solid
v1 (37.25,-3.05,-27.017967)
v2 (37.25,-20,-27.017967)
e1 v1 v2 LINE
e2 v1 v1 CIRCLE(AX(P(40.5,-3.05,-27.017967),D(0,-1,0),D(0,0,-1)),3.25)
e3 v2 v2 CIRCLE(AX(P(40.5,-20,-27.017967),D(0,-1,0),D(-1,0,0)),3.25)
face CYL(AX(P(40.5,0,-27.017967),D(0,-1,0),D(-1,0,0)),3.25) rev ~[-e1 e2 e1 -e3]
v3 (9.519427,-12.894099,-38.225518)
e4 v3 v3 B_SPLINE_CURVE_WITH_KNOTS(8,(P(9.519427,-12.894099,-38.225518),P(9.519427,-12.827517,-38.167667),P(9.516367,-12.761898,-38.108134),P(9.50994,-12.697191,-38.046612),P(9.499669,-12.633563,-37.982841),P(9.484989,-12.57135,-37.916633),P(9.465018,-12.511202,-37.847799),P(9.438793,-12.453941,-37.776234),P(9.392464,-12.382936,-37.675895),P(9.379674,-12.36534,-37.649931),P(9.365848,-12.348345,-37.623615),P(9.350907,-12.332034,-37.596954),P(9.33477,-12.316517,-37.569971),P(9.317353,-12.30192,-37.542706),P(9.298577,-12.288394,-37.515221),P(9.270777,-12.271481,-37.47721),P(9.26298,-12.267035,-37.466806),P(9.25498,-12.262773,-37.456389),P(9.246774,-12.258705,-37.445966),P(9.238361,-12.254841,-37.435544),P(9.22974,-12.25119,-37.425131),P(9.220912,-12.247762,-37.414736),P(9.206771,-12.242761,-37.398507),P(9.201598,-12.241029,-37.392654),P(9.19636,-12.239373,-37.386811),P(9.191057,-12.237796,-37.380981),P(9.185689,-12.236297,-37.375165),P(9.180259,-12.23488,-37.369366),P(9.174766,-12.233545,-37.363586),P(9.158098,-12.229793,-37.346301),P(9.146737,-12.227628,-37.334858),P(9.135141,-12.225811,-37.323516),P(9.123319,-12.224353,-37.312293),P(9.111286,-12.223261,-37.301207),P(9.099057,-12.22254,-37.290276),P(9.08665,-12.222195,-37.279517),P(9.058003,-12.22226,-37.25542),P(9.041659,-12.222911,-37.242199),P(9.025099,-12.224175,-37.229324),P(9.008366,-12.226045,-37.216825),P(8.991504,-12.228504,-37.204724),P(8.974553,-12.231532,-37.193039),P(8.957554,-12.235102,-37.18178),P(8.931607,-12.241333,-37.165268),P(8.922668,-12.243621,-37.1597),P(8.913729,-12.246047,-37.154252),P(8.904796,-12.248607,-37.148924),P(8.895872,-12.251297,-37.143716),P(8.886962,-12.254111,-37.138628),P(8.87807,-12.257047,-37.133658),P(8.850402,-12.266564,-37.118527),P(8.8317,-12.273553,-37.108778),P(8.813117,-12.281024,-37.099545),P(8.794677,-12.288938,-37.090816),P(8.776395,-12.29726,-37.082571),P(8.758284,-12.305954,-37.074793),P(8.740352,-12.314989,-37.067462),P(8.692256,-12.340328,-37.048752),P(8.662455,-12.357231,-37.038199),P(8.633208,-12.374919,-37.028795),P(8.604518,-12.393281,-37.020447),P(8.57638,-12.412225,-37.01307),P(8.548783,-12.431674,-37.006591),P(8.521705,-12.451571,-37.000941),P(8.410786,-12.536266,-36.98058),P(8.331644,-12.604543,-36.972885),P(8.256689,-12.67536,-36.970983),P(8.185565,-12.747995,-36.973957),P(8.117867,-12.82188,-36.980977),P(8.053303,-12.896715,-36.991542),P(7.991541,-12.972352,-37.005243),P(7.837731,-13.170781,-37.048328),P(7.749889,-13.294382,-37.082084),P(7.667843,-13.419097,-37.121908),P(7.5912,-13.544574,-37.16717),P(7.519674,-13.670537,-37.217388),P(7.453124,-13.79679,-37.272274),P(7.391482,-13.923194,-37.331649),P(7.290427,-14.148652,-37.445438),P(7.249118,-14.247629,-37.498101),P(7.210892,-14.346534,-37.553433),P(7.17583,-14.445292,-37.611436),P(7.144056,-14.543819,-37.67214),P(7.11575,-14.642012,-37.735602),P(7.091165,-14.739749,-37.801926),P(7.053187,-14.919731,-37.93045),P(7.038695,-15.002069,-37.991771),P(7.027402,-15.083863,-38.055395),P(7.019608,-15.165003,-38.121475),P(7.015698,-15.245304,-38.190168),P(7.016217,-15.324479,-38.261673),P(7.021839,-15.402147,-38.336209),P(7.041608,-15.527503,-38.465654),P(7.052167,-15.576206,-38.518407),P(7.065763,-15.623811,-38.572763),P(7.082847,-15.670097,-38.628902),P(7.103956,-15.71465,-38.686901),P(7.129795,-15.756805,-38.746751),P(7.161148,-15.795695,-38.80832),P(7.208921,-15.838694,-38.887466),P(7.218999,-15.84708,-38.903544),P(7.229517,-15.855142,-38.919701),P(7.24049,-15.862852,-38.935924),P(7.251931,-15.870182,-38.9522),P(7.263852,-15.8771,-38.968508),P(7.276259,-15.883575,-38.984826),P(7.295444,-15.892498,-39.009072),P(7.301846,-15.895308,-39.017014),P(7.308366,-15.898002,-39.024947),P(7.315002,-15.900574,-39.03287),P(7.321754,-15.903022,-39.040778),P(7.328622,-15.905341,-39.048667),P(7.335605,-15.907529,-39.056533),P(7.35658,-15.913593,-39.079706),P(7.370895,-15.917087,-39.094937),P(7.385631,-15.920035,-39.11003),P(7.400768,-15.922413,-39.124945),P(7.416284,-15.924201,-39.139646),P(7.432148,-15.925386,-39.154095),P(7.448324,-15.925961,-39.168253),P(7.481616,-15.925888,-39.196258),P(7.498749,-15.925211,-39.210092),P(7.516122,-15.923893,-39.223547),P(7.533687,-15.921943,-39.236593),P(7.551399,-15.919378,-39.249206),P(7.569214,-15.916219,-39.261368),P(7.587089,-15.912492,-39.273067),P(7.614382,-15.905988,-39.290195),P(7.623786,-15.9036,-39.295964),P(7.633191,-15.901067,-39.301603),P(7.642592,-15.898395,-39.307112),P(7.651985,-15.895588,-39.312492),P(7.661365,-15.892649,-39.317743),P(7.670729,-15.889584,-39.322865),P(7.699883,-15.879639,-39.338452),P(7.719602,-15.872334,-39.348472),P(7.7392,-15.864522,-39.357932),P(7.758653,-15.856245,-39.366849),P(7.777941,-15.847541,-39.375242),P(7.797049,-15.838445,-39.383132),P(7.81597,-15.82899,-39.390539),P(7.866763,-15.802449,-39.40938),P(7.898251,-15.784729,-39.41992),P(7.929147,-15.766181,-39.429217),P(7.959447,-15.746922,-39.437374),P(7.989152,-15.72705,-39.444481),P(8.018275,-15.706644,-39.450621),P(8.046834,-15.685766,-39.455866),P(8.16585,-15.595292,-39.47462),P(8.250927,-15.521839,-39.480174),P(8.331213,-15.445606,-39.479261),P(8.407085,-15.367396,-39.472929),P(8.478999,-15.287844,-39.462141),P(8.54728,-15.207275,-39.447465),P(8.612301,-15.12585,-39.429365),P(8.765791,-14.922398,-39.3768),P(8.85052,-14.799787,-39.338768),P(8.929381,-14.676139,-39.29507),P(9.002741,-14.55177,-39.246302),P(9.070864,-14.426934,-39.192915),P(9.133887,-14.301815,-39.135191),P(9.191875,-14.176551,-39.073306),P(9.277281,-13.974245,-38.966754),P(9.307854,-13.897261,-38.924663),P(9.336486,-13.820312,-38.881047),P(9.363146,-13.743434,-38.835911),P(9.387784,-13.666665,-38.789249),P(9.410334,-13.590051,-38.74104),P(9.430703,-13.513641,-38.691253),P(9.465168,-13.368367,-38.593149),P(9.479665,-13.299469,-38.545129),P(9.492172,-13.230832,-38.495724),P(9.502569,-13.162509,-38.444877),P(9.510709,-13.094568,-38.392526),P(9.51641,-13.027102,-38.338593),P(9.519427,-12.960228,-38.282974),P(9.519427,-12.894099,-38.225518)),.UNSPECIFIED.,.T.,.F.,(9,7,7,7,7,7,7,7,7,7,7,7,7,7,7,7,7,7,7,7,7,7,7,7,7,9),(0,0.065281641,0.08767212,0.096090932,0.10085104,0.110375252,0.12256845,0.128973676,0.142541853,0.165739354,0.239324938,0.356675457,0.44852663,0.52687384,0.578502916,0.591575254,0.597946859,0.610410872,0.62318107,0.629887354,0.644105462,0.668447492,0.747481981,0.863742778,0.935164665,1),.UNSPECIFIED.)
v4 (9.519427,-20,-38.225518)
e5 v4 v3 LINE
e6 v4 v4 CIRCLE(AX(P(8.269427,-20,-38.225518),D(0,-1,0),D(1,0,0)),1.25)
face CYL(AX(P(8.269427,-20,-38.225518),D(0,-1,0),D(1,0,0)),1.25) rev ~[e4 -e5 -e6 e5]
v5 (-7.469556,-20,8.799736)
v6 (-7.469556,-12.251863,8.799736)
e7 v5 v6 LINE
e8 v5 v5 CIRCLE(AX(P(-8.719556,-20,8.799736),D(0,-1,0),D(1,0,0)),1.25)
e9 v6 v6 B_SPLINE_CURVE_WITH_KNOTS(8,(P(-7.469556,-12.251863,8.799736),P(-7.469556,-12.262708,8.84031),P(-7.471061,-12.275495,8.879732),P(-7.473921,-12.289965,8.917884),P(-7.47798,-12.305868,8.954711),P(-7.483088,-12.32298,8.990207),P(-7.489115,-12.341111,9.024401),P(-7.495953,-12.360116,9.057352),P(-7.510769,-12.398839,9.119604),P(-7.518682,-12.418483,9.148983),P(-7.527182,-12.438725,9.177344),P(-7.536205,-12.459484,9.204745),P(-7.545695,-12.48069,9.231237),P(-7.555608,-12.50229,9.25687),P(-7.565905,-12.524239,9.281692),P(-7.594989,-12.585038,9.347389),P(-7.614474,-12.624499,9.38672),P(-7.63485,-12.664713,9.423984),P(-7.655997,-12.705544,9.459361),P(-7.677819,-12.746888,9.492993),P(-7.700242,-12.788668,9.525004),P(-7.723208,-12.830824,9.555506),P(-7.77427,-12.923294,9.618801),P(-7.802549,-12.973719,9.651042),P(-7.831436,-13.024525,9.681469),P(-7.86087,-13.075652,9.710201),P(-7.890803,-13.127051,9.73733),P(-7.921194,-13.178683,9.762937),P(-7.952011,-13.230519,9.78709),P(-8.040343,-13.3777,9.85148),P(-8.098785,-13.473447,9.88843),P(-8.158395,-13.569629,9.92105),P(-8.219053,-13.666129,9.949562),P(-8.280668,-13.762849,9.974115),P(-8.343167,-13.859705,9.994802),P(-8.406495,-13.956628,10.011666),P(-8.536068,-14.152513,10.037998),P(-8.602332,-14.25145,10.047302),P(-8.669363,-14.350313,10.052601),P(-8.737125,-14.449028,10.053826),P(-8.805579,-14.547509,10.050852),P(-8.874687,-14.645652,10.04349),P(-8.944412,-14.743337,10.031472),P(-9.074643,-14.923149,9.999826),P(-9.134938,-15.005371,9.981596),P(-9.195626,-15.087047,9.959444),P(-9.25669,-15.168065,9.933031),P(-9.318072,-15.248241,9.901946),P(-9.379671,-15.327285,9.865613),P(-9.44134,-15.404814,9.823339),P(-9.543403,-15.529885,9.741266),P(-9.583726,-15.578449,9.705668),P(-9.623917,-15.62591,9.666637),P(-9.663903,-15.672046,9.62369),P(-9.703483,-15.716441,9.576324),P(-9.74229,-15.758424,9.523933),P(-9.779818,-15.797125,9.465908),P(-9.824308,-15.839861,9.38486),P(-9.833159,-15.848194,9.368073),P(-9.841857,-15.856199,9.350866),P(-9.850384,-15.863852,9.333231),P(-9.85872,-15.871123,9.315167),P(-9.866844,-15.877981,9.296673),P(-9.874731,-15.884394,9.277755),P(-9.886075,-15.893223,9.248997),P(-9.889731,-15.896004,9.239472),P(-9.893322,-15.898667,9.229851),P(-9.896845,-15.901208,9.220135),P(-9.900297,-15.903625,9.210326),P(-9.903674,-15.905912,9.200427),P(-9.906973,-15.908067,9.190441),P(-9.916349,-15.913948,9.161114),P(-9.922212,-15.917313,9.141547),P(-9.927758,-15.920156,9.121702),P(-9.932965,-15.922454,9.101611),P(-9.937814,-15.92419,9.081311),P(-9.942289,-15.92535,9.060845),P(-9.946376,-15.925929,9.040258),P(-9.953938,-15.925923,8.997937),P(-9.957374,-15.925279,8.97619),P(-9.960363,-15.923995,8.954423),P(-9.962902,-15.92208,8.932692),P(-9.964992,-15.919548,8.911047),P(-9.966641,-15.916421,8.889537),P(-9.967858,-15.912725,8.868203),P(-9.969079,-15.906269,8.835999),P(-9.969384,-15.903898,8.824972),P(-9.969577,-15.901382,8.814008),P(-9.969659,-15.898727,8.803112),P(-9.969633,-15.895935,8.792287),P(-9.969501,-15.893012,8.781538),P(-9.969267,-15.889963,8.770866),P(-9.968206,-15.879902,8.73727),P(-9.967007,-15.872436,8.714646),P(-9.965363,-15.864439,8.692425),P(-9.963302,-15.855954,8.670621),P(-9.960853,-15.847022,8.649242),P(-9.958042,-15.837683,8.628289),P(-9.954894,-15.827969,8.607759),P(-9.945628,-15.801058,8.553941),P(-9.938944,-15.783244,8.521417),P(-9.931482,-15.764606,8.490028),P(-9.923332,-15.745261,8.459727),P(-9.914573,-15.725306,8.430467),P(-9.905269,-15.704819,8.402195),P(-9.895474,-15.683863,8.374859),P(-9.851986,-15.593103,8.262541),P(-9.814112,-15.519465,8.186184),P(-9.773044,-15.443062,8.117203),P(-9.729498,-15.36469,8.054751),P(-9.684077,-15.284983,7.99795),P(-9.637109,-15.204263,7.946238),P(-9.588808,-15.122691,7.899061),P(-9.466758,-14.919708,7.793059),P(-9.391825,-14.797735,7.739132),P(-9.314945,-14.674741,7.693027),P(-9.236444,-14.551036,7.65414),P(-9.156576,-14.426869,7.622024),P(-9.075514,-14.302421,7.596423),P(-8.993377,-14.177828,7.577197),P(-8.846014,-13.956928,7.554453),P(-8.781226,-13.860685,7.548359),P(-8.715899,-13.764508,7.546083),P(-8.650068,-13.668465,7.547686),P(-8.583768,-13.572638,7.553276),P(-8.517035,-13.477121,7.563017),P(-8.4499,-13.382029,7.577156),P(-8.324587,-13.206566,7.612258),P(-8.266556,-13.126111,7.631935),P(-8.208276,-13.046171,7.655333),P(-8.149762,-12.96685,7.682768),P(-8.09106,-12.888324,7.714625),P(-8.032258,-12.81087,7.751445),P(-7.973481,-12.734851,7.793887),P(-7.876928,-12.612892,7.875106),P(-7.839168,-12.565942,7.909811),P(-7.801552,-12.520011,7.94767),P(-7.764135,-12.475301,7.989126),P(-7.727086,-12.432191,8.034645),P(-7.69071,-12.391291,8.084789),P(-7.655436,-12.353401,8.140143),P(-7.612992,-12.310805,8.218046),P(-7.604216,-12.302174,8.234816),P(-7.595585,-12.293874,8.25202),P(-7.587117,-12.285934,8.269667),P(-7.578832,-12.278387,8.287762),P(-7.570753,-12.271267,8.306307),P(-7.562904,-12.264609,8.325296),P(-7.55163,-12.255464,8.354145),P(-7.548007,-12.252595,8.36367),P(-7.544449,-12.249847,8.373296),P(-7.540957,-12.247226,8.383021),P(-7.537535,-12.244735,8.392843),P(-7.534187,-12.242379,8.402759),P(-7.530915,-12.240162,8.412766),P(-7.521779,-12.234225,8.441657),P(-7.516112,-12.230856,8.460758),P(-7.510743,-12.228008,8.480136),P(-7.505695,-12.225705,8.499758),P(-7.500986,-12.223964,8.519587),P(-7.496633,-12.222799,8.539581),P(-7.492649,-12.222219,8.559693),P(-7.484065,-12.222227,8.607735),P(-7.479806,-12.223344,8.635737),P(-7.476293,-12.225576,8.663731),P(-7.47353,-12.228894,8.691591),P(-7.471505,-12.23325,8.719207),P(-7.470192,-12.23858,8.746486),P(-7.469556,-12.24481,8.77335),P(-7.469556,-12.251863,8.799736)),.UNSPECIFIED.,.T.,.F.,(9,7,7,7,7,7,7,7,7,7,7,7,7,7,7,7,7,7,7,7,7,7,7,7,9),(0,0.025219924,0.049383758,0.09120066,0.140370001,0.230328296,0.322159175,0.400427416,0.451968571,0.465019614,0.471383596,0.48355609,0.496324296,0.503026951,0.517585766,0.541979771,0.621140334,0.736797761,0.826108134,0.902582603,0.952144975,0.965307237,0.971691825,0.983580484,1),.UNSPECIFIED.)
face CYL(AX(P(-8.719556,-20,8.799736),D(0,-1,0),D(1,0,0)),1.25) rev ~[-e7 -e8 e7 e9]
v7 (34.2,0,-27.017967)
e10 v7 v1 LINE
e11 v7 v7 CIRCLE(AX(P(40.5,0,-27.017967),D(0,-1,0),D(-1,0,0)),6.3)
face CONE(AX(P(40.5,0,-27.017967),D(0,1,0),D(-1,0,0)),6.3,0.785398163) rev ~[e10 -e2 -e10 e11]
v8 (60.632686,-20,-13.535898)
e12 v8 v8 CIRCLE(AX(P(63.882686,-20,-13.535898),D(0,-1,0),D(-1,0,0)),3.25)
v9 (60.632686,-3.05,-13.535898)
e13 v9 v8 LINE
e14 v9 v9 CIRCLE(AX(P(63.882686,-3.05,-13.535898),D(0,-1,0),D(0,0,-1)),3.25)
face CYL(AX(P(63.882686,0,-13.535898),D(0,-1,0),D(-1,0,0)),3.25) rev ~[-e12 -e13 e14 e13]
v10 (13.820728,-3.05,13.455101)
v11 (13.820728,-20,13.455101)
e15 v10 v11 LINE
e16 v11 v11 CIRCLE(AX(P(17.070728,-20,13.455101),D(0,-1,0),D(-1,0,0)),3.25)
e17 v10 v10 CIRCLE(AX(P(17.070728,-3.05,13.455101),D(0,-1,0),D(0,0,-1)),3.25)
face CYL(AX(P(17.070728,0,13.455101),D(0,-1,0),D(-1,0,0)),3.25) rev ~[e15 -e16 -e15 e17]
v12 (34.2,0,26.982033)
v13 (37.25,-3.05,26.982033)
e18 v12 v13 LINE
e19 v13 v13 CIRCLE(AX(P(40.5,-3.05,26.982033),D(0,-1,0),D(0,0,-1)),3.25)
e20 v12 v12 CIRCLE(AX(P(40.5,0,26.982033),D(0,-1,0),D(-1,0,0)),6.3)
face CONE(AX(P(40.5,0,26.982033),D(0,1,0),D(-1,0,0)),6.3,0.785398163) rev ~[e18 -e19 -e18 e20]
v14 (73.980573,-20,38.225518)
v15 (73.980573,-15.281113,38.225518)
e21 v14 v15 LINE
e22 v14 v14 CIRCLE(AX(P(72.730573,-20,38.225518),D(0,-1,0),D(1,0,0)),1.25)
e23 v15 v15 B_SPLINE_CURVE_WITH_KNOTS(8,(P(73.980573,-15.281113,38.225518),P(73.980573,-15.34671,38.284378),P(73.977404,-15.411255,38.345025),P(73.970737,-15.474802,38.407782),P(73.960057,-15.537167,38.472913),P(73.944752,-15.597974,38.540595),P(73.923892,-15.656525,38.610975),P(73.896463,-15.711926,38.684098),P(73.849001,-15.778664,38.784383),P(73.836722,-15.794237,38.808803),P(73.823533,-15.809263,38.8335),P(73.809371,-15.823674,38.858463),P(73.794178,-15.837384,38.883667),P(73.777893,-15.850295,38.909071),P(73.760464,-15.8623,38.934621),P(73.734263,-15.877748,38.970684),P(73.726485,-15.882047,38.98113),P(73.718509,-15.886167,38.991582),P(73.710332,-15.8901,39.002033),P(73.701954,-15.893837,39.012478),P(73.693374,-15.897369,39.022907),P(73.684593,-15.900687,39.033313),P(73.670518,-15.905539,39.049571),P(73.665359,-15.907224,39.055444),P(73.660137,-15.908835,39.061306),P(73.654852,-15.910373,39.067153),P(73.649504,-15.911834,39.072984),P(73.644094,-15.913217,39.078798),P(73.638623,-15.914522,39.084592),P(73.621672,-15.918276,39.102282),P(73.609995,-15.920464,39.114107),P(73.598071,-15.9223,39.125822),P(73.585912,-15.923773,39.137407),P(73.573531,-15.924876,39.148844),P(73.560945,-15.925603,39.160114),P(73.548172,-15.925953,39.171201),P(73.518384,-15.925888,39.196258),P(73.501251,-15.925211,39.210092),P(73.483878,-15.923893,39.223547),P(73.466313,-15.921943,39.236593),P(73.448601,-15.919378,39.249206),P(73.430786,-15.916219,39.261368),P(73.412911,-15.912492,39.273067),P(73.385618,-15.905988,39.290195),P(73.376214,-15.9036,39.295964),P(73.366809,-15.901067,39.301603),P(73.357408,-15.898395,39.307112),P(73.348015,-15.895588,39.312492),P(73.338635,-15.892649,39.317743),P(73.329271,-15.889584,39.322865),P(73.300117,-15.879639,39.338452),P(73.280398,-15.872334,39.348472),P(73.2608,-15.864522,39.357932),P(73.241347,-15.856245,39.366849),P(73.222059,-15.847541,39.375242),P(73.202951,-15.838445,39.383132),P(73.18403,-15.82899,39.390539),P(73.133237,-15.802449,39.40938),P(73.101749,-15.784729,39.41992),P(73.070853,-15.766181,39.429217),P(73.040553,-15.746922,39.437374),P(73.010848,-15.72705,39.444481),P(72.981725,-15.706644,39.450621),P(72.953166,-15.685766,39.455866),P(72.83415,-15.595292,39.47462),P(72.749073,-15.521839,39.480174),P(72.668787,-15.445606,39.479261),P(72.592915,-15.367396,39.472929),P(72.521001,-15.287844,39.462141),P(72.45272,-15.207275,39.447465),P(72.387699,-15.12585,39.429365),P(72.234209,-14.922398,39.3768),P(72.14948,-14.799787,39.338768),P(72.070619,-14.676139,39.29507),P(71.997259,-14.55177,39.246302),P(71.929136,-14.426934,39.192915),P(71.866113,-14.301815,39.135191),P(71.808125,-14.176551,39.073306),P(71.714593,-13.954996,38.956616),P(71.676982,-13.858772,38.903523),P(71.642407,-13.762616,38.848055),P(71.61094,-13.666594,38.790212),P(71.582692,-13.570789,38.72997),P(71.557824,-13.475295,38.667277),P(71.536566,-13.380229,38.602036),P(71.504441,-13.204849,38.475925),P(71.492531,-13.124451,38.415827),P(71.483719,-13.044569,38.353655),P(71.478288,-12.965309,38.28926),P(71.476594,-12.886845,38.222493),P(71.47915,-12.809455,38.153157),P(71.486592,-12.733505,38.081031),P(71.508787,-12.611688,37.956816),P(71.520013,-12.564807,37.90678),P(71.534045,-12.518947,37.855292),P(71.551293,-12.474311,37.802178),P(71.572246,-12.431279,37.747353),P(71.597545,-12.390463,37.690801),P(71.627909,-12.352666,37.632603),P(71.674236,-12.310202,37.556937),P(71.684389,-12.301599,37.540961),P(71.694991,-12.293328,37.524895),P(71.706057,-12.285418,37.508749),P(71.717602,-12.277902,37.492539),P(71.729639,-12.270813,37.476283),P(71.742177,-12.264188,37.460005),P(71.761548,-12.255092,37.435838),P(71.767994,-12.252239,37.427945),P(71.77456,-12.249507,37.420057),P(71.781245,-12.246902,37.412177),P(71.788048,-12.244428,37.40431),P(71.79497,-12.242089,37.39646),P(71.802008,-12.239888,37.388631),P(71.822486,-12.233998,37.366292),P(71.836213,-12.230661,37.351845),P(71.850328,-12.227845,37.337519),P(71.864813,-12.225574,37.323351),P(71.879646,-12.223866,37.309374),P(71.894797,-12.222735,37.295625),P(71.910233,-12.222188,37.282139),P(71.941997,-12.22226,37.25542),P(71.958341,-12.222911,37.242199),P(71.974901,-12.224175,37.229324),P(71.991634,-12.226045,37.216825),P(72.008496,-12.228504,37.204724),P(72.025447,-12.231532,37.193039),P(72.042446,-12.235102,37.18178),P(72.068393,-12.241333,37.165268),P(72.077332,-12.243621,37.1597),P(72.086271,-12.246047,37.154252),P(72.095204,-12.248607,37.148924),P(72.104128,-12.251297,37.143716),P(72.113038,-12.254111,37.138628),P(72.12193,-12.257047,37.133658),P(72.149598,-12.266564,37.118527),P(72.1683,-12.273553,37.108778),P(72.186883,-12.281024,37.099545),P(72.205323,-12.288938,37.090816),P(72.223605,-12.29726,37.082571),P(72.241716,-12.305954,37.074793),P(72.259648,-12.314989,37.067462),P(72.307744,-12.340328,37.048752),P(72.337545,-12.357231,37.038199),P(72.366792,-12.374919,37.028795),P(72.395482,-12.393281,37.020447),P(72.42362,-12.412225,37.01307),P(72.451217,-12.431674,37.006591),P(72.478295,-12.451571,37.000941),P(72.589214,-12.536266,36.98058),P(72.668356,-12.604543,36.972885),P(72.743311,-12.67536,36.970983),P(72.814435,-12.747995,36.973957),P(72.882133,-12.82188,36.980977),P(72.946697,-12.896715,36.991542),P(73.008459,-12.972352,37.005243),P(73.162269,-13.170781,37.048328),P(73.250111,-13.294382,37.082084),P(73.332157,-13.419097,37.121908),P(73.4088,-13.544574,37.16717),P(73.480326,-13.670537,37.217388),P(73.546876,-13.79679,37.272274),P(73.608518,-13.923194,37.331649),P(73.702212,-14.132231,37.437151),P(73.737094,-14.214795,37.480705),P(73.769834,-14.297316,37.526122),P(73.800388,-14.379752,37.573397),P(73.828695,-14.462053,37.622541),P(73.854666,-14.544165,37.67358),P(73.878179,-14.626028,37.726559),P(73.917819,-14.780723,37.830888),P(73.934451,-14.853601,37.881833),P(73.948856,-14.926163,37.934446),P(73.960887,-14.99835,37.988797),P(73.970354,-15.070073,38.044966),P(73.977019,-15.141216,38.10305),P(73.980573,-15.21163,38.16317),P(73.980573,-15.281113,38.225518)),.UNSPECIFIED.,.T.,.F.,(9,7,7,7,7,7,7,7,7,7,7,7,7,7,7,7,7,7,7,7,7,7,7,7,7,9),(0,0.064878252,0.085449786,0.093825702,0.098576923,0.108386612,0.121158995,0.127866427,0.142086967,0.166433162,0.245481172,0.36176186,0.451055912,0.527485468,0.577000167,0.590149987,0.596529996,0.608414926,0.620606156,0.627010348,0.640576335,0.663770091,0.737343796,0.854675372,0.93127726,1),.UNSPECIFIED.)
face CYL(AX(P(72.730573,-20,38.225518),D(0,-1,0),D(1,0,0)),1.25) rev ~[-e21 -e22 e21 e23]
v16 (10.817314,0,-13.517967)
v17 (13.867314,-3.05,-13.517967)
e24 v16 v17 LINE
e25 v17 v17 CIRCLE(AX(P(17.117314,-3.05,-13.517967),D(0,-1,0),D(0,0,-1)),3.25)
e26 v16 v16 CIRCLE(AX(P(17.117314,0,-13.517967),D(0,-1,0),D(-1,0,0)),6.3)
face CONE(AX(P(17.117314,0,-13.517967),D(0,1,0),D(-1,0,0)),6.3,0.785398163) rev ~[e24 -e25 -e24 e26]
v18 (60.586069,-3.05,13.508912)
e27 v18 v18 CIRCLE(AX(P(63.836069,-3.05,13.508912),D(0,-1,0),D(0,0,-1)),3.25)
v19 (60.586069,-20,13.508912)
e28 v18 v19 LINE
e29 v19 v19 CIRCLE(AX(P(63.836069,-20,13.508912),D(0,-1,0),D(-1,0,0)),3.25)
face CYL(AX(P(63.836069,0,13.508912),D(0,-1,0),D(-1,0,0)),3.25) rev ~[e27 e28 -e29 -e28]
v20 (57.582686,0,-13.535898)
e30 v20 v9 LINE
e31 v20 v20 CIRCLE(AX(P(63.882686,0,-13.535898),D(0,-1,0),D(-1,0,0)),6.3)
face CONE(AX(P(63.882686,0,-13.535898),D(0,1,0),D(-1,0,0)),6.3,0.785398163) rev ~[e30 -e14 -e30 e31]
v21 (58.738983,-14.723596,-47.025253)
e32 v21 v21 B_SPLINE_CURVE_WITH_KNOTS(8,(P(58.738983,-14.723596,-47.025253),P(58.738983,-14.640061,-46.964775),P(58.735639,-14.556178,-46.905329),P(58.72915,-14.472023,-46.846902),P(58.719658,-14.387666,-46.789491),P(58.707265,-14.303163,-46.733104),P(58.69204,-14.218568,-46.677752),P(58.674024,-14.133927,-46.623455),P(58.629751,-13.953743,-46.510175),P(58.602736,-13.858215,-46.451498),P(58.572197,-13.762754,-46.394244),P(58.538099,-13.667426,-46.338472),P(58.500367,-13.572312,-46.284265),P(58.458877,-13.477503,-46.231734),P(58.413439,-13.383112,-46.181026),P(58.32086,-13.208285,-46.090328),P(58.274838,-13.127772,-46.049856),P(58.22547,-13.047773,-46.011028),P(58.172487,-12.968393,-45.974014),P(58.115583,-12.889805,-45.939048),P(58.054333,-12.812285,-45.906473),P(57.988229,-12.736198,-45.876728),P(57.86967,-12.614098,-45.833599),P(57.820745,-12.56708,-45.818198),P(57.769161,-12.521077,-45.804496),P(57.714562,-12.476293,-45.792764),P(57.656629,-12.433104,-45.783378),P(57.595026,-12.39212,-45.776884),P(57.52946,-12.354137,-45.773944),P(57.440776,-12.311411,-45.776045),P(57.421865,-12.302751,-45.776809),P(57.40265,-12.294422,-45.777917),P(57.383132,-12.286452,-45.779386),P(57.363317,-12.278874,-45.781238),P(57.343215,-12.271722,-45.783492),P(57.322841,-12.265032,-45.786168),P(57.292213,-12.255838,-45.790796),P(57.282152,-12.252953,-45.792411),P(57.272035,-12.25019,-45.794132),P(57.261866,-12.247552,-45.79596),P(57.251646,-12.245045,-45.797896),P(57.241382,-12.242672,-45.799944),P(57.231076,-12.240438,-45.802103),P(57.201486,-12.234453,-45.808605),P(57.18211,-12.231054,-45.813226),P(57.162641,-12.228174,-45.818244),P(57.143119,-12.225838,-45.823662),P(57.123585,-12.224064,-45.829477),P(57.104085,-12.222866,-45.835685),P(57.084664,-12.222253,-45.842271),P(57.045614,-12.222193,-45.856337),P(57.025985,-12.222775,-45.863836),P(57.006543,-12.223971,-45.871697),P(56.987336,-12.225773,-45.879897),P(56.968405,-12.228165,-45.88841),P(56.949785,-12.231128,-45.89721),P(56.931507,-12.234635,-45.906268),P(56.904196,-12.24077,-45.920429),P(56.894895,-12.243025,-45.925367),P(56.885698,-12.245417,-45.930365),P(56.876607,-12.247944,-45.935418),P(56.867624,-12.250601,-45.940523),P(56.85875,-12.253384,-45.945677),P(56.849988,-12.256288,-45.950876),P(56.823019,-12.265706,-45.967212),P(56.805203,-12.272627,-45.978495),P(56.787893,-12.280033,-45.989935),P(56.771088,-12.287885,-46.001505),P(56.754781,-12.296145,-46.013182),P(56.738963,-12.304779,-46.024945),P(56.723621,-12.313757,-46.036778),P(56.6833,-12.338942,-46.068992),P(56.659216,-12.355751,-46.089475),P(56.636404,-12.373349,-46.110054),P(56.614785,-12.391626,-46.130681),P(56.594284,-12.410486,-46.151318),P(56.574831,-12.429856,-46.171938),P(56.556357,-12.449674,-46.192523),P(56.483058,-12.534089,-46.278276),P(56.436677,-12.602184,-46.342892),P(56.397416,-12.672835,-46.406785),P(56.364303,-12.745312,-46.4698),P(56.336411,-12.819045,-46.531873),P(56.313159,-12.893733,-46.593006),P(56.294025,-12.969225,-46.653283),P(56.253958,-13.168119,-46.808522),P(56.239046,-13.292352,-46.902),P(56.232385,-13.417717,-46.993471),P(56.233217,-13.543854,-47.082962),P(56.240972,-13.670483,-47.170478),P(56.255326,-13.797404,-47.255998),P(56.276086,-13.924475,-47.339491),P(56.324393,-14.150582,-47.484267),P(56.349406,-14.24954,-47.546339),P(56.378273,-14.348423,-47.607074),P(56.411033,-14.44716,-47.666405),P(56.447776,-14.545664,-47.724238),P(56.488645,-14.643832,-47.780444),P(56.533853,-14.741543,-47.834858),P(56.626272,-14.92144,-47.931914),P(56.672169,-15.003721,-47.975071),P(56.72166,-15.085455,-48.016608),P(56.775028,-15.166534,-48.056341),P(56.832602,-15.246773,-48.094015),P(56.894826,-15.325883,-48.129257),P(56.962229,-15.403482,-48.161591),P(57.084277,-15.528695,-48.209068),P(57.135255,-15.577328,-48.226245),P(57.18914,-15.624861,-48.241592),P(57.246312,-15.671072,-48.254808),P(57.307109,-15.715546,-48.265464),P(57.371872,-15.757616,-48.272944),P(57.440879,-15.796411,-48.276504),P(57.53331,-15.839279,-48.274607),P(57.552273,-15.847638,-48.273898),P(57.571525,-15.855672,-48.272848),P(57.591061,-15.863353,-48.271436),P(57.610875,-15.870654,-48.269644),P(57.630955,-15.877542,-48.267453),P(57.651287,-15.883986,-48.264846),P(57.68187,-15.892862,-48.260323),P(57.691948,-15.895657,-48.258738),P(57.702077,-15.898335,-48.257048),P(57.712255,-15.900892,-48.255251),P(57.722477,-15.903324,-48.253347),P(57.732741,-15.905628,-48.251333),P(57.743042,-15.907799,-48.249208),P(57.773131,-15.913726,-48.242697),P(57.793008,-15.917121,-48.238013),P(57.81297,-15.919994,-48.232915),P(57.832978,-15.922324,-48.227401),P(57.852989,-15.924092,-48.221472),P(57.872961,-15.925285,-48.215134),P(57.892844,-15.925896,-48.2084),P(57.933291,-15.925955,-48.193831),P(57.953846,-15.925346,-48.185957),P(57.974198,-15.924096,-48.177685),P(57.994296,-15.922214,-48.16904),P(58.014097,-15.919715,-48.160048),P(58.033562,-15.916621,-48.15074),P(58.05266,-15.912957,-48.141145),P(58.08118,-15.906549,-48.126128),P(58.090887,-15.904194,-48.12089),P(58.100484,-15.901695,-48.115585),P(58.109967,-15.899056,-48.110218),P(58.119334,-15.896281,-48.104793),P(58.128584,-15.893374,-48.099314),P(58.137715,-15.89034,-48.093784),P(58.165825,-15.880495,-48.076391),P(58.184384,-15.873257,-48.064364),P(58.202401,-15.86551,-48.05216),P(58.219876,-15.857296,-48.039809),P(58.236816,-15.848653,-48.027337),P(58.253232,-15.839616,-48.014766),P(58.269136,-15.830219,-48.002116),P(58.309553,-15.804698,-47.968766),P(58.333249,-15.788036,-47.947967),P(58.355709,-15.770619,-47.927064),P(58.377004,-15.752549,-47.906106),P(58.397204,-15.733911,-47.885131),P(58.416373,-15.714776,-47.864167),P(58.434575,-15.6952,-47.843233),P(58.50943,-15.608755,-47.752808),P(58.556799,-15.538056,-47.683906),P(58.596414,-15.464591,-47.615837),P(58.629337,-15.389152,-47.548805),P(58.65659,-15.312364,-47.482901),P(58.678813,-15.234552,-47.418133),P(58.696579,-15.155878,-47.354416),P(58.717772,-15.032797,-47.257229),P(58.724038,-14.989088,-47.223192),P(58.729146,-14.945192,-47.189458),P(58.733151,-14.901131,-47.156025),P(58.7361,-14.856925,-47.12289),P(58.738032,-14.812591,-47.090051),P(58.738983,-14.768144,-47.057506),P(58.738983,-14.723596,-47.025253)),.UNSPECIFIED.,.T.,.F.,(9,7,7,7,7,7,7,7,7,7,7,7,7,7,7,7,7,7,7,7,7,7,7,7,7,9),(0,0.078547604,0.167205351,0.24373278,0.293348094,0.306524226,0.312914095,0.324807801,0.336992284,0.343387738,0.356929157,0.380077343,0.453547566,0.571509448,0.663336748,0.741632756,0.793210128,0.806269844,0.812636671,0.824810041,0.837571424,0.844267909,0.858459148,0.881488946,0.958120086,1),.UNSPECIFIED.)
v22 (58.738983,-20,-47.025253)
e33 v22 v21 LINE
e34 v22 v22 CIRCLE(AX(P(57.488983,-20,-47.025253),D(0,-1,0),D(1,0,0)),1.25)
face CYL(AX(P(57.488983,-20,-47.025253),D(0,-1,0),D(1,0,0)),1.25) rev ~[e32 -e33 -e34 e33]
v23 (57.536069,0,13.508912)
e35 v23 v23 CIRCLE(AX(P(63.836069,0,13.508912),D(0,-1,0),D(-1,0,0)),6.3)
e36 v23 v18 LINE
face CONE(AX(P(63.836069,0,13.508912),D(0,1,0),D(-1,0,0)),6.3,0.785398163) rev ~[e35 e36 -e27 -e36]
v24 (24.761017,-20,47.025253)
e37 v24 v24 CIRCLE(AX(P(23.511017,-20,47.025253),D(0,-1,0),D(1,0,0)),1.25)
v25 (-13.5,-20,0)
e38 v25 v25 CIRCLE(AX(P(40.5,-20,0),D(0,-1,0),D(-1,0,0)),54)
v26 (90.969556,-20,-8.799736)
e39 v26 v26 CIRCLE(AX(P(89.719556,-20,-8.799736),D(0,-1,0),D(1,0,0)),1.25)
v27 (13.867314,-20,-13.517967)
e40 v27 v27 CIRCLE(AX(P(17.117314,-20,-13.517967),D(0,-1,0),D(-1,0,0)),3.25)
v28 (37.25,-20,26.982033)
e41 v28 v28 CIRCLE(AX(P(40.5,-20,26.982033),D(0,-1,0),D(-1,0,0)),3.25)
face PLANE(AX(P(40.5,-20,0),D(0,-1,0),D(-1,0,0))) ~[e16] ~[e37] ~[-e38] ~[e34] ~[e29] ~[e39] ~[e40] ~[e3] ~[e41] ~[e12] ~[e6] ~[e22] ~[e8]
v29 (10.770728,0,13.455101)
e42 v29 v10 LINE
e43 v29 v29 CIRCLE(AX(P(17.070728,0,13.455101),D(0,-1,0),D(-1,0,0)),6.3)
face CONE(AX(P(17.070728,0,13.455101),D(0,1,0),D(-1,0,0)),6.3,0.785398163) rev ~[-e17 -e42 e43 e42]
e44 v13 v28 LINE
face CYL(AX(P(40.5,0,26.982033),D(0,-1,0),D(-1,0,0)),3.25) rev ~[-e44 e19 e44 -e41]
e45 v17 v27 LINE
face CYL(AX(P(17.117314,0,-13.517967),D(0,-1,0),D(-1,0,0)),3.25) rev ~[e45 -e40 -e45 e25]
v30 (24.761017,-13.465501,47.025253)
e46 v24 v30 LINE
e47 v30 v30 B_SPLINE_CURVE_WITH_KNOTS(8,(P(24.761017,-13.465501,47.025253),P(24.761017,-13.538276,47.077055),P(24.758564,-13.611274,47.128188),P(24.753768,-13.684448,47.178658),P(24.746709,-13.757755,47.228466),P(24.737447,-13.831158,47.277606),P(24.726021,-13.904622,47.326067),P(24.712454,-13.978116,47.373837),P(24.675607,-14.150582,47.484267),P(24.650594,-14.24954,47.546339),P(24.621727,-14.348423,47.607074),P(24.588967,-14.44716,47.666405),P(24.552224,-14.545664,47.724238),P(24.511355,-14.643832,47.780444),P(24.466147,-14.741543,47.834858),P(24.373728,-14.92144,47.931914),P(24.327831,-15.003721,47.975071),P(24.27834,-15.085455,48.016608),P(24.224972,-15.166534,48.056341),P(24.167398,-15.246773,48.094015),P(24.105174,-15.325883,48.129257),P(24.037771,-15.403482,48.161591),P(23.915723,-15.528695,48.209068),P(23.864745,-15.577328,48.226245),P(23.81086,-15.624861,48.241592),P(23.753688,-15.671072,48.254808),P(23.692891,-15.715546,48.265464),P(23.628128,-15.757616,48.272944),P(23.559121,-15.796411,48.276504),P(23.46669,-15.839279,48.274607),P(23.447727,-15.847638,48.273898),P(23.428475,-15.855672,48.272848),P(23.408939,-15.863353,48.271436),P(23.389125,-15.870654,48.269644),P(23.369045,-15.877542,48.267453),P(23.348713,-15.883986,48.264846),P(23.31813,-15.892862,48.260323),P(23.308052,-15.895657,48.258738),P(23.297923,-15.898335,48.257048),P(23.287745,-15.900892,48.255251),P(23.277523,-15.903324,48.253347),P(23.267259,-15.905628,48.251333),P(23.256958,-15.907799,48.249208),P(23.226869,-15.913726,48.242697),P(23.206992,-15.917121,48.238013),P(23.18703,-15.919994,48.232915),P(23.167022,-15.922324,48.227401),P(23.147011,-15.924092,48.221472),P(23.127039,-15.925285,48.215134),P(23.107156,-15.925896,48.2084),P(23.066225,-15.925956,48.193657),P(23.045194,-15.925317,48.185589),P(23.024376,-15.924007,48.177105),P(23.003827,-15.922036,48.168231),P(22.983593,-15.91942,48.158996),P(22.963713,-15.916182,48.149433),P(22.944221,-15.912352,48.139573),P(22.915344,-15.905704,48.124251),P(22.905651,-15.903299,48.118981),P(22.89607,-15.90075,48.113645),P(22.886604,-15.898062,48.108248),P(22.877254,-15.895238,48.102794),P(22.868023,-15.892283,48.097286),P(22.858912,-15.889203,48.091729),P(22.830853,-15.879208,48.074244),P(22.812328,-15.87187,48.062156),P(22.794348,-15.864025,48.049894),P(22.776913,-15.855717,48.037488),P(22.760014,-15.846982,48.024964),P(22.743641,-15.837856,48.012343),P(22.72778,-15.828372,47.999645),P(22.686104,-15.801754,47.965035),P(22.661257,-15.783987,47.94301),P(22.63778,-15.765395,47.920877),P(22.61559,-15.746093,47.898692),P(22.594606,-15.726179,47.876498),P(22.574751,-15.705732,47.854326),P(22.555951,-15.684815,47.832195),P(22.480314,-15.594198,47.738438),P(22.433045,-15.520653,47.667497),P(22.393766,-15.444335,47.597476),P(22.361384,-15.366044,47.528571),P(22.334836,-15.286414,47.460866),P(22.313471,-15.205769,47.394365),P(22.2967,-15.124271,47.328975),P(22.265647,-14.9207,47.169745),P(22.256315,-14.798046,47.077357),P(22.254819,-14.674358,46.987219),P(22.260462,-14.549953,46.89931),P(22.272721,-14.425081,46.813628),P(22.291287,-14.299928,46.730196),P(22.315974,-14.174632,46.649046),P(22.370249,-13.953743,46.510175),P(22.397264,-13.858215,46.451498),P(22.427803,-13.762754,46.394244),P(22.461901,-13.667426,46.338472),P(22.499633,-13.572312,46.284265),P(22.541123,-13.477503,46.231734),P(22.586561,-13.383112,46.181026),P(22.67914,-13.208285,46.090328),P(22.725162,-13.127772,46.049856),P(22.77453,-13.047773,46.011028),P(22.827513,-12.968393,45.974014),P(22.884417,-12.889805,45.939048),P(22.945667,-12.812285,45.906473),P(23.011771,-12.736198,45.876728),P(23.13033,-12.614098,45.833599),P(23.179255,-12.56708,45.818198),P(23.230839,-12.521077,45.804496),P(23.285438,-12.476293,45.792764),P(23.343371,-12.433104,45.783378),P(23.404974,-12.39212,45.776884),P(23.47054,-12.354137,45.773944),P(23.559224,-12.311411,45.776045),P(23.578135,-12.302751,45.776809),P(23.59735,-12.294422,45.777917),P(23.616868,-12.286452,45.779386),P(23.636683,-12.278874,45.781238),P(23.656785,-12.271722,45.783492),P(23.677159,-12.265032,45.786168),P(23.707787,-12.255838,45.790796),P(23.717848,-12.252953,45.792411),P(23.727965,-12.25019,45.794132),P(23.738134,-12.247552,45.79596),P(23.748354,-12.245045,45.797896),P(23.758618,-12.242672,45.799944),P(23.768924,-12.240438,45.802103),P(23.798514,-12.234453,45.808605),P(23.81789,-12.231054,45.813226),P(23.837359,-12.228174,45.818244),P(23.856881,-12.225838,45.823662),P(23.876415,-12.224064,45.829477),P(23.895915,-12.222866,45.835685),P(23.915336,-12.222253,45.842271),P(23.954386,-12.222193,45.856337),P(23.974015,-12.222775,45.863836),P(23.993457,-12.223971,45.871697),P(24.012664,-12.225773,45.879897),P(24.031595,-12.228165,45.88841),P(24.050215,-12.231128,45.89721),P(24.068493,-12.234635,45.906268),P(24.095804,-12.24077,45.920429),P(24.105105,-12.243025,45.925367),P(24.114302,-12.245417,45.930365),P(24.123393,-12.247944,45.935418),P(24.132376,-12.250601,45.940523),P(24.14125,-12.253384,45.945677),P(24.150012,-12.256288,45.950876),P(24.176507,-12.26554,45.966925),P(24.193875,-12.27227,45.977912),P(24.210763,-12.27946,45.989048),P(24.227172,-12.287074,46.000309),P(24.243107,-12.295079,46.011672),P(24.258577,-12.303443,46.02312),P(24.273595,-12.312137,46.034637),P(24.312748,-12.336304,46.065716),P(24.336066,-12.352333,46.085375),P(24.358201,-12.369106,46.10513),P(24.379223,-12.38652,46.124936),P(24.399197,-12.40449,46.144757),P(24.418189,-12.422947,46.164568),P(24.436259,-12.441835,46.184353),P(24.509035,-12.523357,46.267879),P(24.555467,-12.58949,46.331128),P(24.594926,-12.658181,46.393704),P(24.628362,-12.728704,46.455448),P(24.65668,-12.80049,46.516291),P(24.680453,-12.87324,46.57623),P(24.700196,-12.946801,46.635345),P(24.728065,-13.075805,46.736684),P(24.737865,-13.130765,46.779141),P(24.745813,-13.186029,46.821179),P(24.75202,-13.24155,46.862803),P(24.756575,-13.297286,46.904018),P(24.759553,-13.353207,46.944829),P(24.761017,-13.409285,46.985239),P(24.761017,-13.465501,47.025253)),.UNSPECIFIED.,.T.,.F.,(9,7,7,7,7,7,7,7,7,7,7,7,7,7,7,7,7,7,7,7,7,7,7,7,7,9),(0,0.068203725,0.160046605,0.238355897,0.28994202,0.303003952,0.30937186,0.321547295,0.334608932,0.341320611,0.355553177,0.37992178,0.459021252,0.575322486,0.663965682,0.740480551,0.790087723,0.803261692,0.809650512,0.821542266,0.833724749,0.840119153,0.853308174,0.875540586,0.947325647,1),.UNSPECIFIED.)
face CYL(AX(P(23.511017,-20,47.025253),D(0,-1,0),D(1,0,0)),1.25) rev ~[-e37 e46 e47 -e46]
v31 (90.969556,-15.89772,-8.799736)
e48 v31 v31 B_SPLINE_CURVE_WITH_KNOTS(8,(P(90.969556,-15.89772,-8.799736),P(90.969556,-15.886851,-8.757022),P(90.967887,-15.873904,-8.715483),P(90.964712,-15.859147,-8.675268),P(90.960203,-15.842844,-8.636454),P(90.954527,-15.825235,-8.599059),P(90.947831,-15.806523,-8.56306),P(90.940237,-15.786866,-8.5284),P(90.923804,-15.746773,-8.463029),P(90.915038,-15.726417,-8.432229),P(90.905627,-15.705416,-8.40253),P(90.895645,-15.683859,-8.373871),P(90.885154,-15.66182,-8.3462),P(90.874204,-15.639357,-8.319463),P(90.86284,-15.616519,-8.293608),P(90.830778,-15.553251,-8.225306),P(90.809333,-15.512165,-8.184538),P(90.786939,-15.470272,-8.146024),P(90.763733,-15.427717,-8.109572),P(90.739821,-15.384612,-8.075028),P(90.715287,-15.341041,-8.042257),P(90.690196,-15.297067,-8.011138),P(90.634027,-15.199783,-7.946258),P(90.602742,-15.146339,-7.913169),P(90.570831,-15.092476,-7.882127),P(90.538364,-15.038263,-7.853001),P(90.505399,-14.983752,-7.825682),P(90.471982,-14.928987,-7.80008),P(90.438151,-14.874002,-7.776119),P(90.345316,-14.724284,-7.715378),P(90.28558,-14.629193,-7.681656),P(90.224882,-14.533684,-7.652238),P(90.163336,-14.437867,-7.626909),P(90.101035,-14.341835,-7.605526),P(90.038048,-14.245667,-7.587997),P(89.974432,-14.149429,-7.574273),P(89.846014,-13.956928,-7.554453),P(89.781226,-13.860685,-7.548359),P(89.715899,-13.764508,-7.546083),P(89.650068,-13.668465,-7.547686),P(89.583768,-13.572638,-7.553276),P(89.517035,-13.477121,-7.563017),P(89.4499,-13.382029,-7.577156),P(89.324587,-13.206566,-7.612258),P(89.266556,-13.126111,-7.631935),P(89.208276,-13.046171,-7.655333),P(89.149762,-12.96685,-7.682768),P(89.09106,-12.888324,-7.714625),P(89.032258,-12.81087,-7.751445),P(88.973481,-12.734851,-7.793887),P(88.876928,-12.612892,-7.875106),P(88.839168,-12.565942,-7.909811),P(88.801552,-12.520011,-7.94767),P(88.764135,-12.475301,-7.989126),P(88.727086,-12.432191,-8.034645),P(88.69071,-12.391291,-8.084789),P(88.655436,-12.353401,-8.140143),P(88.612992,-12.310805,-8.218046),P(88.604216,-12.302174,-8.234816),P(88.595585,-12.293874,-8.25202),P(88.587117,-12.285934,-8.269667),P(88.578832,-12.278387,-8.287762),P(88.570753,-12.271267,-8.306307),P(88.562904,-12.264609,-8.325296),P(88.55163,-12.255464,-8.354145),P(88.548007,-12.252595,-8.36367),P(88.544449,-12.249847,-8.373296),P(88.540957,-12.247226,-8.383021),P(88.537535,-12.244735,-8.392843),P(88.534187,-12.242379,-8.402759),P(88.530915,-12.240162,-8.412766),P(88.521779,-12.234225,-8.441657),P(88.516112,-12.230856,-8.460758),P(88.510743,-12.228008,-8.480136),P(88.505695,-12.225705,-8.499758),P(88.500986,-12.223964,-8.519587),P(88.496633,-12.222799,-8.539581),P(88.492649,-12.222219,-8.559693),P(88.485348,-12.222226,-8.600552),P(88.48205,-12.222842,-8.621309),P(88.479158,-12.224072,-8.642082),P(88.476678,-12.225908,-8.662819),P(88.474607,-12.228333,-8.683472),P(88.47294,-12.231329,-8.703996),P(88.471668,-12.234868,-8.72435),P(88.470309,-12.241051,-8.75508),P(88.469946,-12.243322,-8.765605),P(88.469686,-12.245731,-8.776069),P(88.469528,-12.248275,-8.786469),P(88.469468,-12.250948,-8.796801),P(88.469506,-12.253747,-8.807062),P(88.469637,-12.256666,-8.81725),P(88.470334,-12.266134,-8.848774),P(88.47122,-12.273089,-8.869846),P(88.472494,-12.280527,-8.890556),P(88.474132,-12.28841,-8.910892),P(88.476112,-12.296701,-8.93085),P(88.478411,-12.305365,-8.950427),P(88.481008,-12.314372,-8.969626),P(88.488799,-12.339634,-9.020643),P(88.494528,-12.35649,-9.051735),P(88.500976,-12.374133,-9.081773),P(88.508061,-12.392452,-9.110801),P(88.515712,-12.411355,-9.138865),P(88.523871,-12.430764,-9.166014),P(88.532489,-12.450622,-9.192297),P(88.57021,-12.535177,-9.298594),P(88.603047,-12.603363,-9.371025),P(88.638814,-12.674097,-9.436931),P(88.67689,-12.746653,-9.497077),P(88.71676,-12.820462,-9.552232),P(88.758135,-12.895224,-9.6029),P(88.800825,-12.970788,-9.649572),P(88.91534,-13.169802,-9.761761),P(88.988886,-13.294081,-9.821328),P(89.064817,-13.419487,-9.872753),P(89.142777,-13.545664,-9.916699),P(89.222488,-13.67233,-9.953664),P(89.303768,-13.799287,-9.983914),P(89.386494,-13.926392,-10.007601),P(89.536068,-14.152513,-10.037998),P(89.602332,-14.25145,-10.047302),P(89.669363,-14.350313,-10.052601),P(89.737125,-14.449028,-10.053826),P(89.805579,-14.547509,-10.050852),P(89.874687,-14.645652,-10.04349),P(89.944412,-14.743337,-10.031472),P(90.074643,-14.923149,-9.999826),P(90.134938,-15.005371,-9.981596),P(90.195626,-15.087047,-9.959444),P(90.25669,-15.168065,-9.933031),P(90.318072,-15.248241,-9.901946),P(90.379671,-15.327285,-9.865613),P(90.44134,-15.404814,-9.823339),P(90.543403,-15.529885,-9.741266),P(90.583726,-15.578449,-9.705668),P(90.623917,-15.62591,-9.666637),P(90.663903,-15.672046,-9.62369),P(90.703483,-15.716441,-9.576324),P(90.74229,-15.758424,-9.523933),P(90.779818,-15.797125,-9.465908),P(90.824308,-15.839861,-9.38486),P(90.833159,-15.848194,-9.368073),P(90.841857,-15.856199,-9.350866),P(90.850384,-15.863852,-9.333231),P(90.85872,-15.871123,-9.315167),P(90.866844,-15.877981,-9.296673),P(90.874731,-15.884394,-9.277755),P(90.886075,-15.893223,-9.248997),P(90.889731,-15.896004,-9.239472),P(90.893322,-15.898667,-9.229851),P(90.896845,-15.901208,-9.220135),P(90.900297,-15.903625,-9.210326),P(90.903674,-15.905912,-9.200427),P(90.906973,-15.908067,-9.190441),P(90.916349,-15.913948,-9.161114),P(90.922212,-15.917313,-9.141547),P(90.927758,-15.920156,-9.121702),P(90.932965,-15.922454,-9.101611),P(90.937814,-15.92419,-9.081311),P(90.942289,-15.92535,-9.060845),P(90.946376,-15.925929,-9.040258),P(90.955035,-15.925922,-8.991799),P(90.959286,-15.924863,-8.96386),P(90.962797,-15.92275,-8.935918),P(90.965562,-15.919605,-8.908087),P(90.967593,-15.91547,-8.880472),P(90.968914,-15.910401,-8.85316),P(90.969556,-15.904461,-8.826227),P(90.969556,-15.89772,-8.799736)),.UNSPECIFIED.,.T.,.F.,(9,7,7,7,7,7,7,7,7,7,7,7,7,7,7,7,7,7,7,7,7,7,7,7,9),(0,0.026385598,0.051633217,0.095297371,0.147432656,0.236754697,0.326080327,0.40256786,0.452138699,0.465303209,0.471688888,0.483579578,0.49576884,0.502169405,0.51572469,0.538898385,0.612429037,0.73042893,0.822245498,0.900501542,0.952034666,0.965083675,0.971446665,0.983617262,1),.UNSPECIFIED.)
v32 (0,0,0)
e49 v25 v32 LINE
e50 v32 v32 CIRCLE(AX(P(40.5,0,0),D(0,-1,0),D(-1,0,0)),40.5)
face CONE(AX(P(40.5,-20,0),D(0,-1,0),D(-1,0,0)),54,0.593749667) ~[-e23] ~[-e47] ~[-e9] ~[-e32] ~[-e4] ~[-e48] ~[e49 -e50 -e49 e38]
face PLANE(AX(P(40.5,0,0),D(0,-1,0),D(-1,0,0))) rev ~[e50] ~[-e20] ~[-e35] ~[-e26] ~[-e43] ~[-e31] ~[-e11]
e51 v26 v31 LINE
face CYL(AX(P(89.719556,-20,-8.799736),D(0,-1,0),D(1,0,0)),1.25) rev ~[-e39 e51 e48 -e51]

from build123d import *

# Parameters (mm, degrees)
CSK_FOR_ST6_3_CROSS_RECESSED_CTSK_HEAD_T_D           = 6.5
CSK_FOR_ST6_3_CROSS_RECESSED_CTSK_HEAD_T_CSINK_D     = 12.6
CSK_FOR_ST6_3_CROSS_RECESSED_CTSK_HEAD_T_CSINK_ANGLE = 90
CSK_FOR_ST6_3_CROSS_RECESSED_CTSK_HE_2_D             = 6.5
CSK_FOR_ST6_3_CROSS_RECESSED_CTSK_HE_2_CSINK_D       = 12.6
CSK_FOR_ST6_3_CROSS_RECESSED_CTSK_HE_2_CSINK_ANGLE   = 90
SKETCH9_R                                            = 1.25
CUT_EXTRUDE1_DEPTH                                   = 50
SKETCH9_3_R                                          = 1.25
CUT_EXTRUDE2_DEPTH                                   = 50
SKETCH9_4_R                                          = 1.25
CUT_EXTRUDE3_DEPTH                                   = 50
SKETCH9_5_R                                          = 1.25
CUT_EXTRUDE4_DEPTH                                   = 50
SKETCH9_7_R                                          = 1.25
CUT_EXTRUDE5_DEPTH                                   = 50
SKETCH9_8_R                                          = 1.25
CUT_EXTRUDE6_DEPTH                                   = 50


with BuildPart() as part:
    # Sketch1 → Revolve1 (revolve)
    with BuildSketch(Plane.XY):
        Polygon((0, 0), (40.5, 0), (40.5, -20), (-13.5, -20), align=None)
    revolve(axis=Axis((40.5, 11.538552748, 0), (0, -1, 0)))

    # CSK for ST6.3 Cross recessed CTSK head t (through all)
    with Locations(Plane(origin=(0, 0, 0), x_dir=(1, 0, 0), z_dir=(0, 1, 0))):
        with Locations((17.07072808, -13.455101055), (63.836068925, -13.508911829), (40.5, 27.017966747)):
            CounterSinkHole(CSK_FOR_ST6_3_CROSS_RECESSED_CTSK_HEAD_T_D / 2, CSK_FOR_ST6_3_CROSS_RECESSED_CTSK_HEAD_T_CSINK_D / 2, counter_sink_angle=CSK_FOR_ST6_3_CROSS_RECESSED_CTSK_HEAD_T_CSINK_ANGLE)

    # CSK for ST6.3 Cross recessed CTSK he 2 (through all)
    with Locations(Plane(origin=(0, 0, 0), x_dir=(1, 0, 0), z_dir=(0, 1, 0))):
        with Locations((17.117314098, 13.517966747), (63.882685902, 13.535897721), (40.5, -26.982033253)):
            CounterSinkHole(CSK_FOR_ST6_3_CROSS_RECESSED_CTSK_HE_2_D / 2, CSK_FOR_ST6_3_CROSS_RECESSED_CTSK_HE_2_CSINK_D / 2, counter_sink_angle=CSK_FOR_ST6_3_CROSS_RECESSED_CTSK_HE_2_CSINK_ANGLE)

    # Sketch9 → Cut-Extrude1 (cut)
    with BuildSketch(Plane.XZ.offset(20)):
        with Locations((89.719555543, -8.799735913)):
            Circle(SKETCH9_R)
    extrude(amount=-CUT_EXTRUDE1_DEPTH, mode=Mode.SUBTRACT)

    # Sketch9<3> → Cut-Extrude2 (cut)
    with BuildSketch(Plane.XZ.offset(20)):
        with Locations((72.730572619, 38.225517507)):
            Circle(SKETCH9_3_R)
    extrude(amount=-CUT_EXTRUDE2_DEPTH, mode=Mode.SUBTRACT)

    # Sketch9<4> → Cut-Extrude3 (cut)
    with BuildSketch(Plane.XZ.offset(20)):
        with Locations((23.511017076, 47.02525342)):
            Circle(SKETCH9_4_R)
    extrude(amount=-CUT_EXTRUDE3_DEPTH, mode=Mode.SUBTRACT)

    # Sketch9<5> → Cut-Extrude4 (cut)
    with BuildSketch(Plane.XZ.offset(20)):
        with Locations((-8.719555543, 8.799735913)):
            Circle(SKETCH9_5_R)
    extrude(amount=-CUT_EXTRUDE4_DEPTH, mode=Mode.SUBTRACT)

    # Sketch9<7> → Cut-Extrude5 (cut)
    with BuildSketch(Plane.XZ.offset(20)):
        with Locations((8.269427381, -38.225517507)):
            Circle(SKETCH9_7_R)
    extrude(amount=-CUT_EXTRUDE5_DEPTH, mode=Mode.SUBTRACT)

    # Sketch9<8> → Cut-Extrude6 (cut)
    with BuildSketch(Plane.XZ.offset(20)):
        with Locations((57.488982924, -47.02525342)):
            Circle(SKETCH9_8_R)
    extrude(amount=-CUT_EXTRUDE6_DEPTH, mode=Mode.SUBTRACT)


solid = part.part
